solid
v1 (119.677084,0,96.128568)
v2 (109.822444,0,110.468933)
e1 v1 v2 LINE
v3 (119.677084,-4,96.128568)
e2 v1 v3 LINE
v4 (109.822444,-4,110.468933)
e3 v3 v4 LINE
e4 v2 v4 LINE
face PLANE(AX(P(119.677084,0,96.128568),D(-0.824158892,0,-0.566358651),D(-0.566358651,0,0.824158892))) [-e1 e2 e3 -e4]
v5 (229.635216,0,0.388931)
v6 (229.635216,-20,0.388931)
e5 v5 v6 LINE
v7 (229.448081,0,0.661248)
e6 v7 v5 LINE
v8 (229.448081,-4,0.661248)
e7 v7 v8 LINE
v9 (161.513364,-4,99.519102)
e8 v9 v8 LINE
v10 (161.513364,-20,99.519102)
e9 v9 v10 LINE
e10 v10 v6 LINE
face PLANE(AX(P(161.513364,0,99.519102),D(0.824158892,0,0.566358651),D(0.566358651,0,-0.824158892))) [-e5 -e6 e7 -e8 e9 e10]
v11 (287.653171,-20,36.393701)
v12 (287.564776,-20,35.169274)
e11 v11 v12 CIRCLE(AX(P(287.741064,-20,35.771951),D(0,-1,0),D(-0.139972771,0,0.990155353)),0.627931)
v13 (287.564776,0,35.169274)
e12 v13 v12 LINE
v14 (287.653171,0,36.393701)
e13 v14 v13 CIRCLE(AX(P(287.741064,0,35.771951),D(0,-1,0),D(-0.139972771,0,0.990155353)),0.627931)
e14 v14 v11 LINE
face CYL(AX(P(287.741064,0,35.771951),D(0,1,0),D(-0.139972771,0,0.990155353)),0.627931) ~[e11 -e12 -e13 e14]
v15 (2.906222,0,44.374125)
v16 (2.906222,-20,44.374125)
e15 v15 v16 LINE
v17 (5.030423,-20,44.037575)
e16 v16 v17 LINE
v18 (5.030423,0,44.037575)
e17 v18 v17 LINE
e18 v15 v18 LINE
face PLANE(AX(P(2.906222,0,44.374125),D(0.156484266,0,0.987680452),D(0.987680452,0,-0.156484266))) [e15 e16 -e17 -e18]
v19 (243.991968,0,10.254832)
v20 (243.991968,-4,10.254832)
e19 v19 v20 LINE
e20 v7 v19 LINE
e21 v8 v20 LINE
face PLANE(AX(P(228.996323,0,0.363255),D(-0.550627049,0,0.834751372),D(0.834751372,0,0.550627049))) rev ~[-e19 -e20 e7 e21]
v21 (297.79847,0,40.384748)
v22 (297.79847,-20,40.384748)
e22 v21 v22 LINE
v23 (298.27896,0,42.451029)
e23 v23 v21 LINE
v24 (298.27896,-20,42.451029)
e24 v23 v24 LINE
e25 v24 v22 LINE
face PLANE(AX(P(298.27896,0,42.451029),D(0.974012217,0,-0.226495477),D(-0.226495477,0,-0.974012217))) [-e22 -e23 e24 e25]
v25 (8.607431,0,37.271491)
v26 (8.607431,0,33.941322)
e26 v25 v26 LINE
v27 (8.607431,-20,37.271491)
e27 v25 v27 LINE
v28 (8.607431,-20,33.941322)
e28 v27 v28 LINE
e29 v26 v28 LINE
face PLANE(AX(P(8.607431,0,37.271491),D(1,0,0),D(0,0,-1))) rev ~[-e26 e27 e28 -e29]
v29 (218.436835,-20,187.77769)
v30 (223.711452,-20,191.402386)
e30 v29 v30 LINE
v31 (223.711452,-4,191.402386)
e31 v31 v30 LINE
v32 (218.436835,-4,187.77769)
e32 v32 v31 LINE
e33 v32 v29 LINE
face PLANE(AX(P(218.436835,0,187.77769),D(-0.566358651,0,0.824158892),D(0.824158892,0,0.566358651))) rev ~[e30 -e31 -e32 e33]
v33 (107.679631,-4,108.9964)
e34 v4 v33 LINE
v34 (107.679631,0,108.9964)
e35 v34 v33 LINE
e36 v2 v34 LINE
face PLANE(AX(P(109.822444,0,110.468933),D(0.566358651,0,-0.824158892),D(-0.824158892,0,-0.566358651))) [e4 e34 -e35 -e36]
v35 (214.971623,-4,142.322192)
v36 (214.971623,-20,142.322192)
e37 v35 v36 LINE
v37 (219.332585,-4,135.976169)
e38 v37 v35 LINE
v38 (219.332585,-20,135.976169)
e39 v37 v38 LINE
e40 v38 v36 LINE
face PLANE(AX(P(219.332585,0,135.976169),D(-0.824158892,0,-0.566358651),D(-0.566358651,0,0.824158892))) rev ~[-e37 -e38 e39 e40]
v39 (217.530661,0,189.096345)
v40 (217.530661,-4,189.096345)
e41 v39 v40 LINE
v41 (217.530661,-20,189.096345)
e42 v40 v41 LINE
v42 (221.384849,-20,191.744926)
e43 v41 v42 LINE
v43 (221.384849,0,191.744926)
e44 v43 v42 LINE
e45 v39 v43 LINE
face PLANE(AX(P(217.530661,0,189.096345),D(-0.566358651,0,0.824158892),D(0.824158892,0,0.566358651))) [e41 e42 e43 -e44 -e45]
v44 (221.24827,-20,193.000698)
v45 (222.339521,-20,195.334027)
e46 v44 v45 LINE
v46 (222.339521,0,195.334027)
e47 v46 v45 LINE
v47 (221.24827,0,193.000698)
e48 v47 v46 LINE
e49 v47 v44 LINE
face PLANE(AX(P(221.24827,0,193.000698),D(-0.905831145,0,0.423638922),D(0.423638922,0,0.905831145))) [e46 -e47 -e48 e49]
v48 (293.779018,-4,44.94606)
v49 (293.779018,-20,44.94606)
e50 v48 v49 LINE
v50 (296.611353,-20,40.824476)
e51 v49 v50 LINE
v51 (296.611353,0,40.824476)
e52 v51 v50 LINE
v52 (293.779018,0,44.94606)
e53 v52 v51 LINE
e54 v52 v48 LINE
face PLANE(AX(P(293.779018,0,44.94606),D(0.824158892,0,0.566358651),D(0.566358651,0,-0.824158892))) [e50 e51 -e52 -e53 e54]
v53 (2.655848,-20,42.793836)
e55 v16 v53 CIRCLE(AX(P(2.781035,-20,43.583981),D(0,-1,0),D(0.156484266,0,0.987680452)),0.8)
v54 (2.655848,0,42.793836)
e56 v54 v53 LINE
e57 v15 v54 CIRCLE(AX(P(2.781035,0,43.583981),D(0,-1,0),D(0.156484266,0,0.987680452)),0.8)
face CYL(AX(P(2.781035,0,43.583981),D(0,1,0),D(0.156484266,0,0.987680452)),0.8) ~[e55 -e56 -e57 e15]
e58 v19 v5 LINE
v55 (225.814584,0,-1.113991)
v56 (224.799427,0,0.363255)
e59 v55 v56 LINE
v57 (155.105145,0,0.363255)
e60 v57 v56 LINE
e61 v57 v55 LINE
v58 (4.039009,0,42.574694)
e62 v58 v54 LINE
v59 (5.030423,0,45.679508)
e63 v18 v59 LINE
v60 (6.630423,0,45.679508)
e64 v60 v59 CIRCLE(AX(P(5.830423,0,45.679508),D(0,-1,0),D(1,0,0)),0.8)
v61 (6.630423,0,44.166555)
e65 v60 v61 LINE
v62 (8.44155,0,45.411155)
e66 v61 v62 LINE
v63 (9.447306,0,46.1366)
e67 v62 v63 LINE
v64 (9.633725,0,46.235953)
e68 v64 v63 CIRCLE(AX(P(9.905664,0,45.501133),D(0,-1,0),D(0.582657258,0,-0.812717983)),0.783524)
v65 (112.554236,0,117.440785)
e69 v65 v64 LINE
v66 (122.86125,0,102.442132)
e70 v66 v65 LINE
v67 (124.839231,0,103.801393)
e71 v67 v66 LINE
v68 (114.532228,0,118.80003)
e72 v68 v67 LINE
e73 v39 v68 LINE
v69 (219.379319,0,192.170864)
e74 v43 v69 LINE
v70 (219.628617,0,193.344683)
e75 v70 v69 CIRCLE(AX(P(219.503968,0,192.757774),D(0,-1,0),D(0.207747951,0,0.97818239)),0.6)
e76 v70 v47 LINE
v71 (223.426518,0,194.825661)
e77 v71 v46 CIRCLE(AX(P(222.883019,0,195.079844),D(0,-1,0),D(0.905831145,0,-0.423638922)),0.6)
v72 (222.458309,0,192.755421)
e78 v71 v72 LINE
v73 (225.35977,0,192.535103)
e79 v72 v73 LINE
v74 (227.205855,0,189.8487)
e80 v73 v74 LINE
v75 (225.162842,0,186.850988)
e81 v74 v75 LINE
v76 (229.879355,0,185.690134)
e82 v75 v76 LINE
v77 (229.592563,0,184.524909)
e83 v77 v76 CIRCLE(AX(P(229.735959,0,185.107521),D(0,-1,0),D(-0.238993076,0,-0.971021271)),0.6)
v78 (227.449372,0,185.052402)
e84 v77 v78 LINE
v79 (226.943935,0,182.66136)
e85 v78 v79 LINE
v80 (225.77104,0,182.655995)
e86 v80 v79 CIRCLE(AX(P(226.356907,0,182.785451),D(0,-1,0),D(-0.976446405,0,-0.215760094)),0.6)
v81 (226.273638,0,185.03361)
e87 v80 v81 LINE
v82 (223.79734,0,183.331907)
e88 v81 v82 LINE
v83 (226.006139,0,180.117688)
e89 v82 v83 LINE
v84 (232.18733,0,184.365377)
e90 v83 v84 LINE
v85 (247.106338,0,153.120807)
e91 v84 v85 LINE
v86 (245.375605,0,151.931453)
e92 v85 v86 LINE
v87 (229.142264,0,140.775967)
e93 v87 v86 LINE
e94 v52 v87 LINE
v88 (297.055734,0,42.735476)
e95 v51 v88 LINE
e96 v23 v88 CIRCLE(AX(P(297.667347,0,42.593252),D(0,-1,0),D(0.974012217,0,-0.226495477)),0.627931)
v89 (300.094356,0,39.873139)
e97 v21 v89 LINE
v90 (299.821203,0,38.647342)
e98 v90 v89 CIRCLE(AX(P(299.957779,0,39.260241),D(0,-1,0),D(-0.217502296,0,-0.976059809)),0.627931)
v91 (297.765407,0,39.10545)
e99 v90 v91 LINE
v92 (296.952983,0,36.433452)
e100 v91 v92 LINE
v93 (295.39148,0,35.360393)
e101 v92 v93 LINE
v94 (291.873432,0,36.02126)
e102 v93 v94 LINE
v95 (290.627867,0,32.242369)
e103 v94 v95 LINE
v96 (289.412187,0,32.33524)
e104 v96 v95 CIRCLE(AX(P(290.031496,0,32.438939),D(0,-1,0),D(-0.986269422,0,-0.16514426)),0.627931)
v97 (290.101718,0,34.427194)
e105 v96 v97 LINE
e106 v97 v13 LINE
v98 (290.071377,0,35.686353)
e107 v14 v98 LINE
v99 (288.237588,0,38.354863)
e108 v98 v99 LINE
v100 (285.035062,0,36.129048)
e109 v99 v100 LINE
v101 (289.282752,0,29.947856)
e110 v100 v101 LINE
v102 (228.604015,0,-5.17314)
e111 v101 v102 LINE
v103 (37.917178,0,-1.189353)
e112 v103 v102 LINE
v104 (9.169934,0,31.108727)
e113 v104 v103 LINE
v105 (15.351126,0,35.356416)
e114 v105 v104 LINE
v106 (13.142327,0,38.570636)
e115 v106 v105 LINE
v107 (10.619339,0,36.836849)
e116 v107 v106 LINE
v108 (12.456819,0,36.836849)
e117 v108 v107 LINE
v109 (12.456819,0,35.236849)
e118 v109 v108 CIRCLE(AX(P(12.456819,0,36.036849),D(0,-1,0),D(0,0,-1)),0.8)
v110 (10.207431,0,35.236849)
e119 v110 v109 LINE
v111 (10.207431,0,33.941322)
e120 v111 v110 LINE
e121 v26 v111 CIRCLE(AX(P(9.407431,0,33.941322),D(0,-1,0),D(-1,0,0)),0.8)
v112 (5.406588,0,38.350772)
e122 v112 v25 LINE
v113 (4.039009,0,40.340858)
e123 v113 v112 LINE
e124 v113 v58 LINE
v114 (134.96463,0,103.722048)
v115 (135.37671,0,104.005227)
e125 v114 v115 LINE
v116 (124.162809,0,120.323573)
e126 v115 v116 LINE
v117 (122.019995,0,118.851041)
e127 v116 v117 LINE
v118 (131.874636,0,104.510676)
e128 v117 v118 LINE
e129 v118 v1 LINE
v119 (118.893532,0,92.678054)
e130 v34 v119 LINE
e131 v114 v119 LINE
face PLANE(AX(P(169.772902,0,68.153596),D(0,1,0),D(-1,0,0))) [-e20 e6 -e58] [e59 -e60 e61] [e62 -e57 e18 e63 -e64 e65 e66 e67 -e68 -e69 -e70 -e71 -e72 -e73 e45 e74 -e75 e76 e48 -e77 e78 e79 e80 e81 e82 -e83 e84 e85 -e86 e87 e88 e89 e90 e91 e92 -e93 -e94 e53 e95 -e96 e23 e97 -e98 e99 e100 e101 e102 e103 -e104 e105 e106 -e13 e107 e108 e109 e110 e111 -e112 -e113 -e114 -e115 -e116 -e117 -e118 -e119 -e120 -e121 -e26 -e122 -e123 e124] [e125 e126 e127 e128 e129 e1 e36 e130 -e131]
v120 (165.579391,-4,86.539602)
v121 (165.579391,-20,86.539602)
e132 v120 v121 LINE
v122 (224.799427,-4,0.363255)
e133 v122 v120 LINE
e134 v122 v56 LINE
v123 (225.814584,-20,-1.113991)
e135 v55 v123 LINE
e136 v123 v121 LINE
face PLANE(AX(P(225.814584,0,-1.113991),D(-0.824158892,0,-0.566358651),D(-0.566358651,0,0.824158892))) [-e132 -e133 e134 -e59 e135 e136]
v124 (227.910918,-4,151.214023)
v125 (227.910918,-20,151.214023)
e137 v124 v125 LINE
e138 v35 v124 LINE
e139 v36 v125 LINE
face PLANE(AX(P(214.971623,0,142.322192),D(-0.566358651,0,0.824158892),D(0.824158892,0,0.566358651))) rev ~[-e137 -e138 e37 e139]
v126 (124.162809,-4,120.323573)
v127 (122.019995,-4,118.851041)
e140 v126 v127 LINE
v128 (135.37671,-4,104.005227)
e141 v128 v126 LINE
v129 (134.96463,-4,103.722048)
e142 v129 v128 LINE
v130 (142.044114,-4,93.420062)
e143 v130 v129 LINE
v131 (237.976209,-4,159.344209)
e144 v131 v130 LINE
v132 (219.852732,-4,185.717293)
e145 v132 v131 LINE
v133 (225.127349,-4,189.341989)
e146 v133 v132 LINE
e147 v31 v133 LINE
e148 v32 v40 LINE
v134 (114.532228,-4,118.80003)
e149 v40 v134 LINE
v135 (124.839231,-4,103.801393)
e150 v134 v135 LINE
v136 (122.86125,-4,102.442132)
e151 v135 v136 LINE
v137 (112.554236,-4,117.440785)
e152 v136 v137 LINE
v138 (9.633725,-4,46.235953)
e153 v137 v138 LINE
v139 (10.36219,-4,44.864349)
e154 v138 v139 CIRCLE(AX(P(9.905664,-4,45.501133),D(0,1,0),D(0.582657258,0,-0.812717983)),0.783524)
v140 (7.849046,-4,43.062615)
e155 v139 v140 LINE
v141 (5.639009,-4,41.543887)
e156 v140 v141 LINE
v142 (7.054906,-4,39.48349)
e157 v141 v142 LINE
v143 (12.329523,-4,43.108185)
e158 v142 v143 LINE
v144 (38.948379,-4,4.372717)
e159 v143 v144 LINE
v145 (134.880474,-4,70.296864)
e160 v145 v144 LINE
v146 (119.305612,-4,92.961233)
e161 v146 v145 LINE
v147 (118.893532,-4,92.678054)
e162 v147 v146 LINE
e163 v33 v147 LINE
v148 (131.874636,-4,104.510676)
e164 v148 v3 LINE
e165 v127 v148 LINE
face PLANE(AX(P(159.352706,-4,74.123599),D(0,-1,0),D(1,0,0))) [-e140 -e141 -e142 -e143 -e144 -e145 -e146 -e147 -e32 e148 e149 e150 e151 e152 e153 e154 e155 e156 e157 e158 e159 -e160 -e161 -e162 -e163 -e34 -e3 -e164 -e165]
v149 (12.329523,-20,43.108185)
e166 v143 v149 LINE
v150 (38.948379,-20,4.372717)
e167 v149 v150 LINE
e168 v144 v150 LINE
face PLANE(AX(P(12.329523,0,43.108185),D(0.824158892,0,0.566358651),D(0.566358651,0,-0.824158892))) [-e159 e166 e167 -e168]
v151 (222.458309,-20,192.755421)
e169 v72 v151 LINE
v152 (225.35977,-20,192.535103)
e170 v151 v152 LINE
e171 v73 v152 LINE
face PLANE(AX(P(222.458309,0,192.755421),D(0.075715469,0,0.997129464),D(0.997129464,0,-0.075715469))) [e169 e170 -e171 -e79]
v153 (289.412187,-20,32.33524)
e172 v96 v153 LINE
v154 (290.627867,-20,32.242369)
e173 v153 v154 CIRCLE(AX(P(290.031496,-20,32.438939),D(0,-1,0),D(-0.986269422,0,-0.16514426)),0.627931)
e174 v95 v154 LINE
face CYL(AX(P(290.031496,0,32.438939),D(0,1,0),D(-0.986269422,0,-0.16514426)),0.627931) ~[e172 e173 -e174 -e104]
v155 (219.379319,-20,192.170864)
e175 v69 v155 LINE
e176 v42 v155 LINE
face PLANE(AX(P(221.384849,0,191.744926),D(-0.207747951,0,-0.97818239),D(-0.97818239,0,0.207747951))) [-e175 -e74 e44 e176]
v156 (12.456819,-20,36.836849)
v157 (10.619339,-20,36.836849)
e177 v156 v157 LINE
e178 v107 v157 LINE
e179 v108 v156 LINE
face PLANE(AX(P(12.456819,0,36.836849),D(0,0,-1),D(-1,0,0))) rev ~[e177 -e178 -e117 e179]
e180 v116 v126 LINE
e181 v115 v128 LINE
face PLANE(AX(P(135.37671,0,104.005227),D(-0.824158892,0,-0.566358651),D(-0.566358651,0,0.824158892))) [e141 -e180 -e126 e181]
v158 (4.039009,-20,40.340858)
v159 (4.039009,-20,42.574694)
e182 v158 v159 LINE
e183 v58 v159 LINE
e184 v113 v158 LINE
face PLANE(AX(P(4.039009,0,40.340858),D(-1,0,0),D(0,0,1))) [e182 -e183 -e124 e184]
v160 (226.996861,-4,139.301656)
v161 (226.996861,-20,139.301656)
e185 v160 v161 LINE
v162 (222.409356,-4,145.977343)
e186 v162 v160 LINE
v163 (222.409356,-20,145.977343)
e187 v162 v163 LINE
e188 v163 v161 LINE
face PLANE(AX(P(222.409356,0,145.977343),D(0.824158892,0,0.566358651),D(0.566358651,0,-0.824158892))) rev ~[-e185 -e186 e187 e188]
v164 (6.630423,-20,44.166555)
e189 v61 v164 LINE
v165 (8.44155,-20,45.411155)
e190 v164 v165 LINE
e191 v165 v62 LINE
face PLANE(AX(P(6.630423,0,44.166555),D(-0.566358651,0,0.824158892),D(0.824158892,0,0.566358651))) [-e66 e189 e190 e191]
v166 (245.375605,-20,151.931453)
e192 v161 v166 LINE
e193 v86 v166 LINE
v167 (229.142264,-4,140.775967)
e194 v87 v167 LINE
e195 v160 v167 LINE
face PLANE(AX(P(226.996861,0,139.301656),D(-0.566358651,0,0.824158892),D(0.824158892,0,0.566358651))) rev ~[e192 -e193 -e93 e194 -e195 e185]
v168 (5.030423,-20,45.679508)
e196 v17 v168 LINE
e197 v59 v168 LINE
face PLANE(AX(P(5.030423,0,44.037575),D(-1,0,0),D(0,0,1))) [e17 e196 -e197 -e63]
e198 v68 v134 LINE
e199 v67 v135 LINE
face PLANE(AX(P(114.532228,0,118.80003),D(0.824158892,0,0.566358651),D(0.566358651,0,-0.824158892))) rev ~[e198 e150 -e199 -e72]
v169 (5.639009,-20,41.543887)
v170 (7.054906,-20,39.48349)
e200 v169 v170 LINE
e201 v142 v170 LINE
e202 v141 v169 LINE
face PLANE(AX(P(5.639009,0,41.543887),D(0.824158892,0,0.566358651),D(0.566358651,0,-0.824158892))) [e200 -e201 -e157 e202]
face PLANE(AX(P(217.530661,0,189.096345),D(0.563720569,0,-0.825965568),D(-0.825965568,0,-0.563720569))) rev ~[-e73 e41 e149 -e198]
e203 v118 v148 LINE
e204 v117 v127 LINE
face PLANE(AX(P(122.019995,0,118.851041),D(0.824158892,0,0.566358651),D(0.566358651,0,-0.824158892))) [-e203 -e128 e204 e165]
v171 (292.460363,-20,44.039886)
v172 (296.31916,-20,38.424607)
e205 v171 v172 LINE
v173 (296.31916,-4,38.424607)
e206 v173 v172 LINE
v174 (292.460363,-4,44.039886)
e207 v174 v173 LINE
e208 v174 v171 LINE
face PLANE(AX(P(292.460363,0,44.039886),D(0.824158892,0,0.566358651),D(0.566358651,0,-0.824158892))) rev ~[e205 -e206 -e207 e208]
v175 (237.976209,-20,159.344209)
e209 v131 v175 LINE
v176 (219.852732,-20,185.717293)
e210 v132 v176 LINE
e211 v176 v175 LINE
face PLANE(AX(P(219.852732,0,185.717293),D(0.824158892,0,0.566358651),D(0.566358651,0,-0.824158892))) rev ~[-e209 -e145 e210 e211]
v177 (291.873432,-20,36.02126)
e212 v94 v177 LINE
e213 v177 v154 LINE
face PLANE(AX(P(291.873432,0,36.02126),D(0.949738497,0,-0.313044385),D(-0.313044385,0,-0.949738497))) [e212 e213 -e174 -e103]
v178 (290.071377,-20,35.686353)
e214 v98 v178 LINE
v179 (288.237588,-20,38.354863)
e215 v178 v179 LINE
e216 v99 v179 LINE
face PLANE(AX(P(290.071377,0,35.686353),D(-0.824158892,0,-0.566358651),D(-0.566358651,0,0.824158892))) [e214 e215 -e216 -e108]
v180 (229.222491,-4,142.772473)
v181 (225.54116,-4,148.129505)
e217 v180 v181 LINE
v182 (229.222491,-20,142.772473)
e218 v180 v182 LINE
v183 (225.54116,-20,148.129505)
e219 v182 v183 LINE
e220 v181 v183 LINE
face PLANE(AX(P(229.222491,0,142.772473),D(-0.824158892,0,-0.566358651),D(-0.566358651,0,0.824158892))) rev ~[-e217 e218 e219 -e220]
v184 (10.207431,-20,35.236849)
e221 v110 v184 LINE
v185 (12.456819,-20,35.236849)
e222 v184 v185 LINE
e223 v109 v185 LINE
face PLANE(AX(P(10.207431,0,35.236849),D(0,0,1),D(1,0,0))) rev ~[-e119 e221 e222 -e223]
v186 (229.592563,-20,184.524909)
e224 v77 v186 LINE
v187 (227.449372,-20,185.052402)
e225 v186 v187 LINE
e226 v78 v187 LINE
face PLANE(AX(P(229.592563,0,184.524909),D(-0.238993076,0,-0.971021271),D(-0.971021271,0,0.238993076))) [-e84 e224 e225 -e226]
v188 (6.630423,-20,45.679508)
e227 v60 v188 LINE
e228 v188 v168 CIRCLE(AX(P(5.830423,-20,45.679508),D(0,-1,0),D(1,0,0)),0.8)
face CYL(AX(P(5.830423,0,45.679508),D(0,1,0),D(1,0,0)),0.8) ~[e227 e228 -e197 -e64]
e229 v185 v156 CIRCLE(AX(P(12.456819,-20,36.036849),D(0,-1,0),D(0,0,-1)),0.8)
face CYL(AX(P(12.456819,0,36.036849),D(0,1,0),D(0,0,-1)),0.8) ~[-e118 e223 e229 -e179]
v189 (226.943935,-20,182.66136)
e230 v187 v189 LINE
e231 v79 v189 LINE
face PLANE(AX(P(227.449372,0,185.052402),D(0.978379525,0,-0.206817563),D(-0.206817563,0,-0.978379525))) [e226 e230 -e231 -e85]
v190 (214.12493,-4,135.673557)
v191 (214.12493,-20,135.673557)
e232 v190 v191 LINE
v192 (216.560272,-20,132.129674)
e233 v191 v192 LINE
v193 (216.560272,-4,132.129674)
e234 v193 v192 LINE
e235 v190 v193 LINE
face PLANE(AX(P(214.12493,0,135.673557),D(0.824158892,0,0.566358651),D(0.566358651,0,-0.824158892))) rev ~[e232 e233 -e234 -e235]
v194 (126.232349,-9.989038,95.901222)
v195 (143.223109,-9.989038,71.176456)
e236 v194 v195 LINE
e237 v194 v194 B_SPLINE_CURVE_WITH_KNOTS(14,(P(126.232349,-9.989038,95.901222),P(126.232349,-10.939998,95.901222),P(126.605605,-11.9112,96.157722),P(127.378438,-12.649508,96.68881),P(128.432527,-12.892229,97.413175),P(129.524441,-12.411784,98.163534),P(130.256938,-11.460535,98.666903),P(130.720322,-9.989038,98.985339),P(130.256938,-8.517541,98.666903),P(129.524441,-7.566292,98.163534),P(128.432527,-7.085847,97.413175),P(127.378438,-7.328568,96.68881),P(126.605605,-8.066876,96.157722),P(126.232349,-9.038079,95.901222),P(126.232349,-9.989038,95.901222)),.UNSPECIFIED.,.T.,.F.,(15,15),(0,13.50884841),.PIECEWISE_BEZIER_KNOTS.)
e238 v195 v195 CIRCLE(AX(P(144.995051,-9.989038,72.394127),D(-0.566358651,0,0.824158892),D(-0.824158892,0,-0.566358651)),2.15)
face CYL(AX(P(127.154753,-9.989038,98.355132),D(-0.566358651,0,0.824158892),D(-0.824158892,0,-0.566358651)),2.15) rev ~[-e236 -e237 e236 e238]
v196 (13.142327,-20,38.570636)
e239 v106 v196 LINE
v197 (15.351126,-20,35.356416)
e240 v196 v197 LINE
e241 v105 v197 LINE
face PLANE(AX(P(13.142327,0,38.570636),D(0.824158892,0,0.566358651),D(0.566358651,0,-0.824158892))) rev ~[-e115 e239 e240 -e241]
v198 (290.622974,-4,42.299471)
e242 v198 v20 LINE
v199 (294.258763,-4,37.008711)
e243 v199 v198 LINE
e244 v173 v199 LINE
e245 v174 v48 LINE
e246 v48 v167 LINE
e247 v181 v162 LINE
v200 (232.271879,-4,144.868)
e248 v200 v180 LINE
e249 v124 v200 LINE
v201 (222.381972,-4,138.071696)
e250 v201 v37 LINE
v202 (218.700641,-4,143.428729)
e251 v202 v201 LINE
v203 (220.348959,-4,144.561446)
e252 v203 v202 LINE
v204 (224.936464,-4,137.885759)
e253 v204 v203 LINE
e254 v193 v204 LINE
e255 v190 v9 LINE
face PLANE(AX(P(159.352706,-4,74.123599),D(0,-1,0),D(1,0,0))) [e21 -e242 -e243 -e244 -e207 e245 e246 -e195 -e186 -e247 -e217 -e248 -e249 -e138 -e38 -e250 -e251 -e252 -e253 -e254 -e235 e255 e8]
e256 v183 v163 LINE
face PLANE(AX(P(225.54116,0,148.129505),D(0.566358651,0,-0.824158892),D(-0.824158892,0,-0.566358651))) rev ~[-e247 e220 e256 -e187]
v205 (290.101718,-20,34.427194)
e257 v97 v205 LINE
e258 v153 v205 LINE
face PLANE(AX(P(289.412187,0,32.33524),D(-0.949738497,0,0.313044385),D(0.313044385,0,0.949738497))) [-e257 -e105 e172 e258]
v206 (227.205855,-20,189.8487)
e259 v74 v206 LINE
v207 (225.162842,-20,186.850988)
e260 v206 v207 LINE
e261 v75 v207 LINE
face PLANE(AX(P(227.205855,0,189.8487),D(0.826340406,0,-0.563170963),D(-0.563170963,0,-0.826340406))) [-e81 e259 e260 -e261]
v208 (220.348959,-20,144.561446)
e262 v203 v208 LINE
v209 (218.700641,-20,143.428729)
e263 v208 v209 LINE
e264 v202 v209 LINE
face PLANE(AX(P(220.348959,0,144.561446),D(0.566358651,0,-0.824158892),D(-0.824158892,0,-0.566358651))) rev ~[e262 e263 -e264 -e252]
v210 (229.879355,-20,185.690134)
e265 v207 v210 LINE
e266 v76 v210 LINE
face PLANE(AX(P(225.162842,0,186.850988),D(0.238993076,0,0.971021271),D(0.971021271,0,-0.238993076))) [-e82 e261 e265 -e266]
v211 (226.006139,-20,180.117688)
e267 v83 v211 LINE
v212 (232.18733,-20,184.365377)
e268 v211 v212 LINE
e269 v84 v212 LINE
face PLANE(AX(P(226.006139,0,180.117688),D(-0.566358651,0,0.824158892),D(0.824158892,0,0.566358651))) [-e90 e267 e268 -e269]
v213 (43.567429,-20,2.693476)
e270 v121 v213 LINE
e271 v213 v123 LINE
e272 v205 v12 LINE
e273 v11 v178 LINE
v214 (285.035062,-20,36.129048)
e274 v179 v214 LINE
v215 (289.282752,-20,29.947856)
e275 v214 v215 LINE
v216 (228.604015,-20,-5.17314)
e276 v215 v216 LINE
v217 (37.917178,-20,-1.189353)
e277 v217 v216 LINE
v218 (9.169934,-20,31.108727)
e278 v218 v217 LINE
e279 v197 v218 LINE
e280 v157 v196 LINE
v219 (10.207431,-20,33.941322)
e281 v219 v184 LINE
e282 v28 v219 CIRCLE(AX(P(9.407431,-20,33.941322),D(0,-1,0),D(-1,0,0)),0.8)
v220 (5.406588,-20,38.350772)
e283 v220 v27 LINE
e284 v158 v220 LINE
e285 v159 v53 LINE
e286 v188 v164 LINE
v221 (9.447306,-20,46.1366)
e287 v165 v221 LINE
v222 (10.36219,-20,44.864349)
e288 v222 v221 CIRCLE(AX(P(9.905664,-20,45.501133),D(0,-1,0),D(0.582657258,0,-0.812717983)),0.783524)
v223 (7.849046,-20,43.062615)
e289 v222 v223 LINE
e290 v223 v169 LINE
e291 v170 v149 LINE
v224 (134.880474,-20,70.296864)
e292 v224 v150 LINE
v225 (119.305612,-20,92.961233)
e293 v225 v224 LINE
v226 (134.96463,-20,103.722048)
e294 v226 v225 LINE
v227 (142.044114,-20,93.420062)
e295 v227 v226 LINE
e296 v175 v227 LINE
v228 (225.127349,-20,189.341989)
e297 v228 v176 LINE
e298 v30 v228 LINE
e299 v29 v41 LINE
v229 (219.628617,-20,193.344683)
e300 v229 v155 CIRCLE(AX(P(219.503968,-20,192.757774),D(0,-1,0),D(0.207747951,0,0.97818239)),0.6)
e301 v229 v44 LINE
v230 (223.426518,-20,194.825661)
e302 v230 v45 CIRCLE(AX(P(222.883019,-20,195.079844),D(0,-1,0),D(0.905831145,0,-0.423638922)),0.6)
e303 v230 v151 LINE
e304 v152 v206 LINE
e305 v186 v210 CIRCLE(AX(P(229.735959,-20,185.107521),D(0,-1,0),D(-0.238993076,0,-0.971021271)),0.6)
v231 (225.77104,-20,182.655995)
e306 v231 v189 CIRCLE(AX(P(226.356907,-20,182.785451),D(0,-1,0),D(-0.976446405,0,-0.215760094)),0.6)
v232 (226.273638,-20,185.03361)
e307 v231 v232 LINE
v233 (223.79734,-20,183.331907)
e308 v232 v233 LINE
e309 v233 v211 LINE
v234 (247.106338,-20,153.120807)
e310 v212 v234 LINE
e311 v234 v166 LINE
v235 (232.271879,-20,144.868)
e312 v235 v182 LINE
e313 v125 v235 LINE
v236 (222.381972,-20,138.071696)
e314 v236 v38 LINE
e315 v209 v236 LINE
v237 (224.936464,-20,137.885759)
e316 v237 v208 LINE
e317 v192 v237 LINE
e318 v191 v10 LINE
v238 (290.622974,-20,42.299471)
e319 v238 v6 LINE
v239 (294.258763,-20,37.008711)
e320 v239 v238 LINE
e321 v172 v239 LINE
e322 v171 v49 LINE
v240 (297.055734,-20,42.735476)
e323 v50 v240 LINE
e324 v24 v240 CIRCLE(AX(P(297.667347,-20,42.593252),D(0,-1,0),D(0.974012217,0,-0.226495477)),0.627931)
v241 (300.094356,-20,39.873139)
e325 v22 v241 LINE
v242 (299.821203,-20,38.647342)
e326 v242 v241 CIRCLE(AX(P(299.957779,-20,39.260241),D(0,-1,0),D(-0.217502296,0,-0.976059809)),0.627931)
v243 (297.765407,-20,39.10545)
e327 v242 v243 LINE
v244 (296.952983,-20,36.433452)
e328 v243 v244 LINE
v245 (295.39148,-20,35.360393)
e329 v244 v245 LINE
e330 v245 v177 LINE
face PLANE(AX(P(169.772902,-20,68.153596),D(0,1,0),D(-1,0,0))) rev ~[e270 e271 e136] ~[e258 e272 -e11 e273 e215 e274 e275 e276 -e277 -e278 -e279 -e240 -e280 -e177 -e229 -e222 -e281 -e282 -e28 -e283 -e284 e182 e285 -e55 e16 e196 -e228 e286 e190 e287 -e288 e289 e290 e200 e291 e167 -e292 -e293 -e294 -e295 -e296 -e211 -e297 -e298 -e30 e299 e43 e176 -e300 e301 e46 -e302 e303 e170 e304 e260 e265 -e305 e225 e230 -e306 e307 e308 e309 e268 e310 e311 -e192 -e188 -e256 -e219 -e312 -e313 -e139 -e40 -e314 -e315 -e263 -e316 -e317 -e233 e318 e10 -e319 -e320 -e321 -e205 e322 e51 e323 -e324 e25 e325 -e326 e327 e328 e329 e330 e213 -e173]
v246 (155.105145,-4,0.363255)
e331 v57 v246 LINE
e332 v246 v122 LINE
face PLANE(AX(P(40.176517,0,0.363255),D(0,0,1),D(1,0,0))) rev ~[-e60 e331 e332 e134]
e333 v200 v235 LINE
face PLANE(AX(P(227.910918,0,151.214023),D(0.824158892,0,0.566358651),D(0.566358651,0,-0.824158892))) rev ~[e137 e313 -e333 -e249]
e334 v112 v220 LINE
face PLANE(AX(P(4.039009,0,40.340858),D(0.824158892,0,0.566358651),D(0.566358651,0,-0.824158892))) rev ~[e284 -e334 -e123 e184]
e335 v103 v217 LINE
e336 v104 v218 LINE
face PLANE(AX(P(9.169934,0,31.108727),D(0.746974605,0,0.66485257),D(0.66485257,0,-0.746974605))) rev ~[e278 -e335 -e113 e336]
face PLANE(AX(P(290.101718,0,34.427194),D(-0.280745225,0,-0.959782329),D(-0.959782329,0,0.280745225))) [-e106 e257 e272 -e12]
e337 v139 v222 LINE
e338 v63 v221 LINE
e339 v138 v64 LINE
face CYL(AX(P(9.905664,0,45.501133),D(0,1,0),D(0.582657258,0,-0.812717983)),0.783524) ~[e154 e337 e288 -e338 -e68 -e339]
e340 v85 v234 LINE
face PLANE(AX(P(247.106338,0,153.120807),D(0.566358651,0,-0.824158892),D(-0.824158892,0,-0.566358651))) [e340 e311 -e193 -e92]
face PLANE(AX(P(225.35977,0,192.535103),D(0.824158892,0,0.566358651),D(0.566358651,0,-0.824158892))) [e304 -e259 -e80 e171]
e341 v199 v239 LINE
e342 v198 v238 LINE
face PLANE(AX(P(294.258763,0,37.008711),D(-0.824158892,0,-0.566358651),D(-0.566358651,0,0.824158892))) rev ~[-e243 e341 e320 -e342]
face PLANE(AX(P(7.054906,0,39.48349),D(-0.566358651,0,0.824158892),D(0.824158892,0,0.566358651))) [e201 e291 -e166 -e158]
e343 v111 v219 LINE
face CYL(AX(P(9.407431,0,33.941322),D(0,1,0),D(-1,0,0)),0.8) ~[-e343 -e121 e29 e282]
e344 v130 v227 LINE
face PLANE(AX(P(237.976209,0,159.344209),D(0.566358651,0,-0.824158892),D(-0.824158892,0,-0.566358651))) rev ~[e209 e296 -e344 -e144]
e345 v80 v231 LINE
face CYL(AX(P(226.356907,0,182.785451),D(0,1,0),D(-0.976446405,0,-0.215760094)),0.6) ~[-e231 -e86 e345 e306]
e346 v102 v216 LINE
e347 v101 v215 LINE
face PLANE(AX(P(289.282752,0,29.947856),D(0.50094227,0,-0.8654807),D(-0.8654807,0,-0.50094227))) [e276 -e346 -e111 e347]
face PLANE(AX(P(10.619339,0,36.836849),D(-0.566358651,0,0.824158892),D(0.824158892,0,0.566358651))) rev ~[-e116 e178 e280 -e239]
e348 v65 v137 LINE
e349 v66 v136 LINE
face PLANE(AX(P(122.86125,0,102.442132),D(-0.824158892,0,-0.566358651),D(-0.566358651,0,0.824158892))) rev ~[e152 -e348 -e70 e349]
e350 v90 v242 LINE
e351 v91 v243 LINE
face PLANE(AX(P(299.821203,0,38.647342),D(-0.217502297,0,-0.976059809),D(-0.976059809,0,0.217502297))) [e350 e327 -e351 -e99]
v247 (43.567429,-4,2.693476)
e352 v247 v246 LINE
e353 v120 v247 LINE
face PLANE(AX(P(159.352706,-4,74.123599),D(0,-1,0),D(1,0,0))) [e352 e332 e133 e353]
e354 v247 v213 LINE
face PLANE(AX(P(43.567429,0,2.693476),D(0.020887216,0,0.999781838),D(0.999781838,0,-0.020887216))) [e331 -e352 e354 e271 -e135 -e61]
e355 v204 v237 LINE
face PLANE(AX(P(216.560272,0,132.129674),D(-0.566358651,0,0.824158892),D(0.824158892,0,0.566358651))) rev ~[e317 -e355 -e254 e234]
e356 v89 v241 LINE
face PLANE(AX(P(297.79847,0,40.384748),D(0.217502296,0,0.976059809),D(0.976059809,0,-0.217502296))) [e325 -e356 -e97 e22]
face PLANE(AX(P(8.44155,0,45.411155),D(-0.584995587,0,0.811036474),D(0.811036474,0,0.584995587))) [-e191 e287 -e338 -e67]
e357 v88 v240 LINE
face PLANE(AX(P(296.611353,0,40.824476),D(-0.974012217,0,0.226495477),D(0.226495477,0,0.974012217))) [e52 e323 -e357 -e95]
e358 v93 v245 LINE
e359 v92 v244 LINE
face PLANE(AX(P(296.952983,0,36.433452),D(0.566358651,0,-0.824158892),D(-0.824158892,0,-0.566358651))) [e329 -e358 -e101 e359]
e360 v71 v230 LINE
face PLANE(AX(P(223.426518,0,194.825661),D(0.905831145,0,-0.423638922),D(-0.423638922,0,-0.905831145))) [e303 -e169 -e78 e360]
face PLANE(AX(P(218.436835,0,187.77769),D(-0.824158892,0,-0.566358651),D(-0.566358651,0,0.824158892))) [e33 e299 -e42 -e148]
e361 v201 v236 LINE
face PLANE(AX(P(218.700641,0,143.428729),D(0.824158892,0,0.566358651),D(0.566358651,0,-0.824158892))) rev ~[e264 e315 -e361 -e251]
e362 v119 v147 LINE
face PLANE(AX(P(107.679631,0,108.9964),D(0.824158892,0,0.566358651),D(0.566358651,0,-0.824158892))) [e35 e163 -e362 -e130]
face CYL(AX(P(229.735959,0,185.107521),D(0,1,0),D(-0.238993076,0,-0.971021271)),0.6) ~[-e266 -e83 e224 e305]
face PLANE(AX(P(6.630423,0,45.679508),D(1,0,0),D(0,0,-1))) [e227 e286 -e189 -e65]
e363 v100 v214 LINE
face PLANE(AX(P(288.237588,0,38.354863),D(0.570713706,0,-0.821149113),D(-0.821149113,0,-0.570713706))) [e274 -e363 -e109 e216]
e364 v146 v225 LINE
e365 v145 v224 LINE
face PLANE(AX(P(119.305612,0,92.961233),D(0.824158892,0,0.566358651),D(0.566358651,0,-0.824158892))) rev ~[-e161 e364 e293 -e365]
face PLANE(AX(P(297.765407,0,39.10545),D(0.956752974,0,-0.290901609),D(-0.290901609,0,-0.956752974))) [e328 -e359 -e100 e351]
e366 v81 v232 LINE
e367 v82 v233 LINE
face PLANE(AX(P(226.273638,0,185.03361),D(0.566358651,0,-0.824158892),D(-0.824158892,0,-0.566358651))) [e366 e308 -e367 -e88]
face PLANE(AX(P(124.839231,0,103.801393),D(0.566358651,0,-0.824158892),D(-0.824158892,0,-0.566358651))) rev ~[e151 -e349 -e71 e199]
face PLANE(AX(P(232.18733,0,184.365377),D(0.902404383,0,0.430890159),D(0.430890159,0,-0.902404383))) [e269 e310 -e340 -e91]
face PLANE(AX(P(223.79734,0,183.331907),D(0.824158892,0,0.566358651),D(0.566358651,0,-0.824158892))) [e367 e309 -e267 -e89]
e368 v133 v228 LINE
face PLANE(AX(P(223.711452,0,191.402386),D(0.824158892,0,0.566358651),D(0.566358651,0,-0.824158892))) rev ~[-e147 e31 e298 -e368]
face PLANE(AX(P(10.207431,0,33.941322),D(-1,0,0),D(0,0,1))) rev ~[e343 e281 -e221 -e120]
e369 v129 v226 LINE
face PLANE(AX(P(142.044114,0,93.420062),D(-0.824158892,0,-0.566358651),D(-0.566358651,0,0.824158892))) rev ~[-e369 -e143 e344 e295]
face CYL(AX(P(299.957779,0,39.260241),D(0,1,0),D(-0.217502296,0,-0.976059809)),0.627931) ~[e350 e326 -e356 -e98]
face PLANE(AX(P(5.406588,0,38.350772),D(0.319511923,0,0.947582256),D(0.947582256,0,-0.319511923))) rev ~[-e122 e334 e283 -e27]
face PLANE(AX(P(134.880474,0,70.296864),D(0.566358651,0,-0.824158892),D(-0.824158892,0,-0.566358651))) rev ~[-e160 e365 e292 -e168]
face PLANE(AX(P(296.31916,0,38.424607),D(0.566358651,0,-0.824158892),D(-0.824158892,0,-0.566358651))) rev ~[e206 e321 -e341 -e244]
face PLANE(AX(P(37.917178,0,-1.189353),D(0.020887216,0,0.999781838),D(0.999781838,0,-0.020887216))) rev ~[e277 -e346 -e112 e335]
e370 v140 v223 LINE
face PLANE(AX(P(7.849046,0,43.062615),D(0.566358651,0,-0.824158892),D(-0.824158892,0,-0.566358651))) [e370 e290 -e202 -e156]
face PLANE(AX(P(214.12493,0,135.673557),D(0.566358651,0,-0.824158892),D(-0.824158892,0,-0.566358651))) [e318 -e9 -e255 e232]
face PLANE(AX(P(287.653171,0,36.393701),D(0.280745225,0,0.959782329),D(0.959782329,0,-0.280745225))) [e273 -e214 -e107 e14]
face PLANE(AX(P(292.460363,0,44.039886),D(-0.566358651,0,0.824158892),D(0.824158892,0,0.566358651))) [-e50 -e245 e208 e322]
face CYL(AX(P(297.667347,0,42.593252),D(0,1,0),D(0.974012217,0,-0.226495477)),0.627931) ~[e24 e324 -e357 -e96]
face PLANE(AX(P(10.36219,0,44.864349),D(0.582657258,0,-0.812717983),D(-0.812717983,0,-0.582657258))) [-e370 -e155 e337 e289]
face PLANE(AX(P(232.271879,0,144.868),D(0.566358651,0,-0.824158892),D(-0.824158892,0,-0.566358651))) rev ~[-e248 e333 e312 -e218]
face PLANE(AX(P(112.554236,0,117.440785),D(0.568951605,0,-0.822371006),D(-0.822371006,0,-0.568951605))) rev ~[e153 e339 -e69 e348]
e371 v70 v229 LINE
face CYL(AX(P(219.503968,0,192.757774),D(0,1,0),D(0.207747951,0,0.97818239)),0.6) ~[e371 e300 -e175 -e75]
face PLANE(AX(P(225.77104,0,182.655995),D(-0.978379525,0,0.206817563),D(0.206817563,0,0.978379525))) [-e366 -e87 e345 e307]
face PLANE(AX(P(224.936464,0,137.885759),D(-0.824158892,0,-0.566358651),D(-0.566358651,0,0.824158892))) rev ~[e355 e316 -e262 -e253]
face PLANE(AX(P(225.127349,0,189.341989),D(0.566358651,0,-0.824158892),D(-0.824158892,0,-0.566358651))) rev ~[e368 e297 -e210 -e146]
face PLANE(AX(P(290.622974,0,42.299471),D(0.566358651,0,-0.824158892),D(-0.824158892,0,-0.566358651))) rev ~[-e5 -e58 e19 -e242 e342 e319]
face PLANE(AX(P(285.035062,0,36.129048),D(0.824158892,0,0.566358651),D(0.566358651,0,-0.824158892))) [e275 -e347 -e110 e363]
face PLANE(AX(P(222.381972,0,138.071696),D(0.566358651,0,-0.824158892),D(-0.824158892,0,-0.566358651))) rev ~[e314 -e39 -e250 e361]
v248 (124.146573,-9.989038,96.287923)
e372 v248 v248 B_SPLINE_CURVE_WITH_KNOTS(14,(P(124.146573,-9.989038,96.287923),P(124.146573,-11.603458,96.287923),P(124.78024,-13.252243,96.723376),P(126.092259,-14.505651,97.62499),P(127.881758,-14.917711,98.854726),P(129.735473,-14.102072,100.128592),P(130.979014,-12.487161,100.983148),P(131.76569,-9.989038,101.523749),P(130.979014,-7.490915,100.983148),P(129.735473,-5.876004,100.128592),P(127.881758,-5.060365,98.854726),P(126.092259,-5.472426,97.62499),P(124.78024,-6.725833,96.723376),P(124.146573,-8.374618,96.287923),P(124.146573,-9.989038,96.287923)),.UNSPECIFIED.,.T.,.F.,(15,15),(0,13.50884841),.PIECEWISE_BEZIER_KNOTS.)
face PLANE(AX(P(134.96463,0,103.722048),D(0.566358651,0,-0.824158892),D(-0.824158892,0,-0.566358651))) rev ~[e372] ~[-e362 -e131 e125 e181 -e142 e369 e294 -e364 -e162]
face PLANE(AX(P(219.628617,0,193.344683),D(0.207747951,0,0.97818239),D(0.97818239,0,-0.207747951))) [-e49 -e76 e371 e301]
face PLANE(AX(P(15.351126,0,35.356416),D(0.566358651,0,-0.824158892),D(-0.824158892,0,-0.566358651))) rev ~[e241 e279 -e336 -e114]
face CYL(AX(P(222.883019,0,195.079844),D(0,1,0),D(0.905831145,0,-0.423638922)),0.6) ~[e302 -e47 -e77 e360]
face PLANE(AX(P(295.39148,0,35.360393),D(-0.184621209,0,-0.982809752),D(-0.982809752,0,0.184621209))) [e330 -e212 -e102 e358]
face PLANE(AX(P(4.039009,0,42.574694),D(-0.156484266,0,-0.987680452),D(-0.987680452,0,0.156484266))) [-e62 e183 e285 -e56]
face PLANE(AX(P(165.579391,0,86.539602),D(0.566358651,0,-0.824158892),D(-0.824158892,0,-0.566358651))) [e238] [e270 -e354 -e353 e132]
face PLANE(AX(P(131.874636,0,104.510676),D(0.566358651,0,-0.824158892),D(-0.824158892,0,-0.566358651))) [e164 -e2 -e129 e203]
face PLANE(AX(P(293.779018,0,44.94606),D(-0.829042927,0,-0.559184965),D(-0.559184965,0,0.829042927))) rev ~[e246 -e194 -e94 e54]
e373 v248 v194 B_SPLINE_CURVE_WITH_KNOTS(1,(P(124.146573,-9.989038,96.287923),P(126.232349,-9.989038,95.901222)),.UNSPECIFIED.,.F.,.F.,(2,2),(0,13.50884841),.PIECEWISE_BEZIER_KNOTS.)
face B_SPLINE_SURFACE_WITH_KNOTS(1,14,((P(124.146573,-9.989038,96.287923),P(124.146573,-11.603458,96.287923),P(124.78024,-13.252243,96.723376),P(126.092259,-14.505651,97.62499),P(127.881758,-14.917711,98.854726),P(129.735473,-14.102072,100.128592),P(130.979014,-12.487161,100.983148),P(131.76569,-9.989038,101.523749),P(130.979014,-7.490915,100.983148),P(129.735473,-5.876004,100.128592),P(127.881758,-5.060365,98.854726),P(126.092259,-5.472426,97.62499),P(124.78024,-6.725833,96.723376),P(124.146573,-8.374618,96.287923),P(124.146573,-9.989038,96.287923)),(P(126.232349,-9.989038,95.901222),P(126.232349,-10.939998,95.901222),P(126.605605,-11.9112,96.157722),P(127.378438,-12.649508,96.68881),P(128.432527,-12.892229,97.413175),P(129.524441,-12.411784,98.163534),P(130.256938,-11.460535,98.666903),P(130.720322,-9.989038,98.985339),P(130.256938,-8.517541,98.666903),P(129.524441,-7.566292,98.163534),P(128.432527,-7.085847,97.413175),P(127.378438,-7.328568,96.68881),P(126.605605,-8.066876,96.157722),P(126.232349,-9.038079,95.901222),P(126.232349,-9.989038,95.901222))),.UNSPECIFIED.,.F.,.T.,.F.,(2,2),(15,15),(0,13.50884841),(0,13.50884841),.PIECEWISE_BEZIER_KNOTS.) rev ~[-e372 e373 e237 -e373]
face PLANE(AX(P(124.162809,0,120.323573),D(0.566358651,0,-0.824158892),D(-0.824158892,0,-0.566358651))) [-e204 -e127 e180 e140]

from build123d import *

# Parameters (mm, degrees)
PAD_DEPTH    = 20
SKETCH001_R  = 2.15
POCKET_DEPTH = 47
CHAMFER_SIZE = 1.5
PAD001_DEPTH = 4


with BuildPart() as part:
    # Sketch → Pad (new body)
    with BuildSketch(Plane.XZ):
        with BuildLine():
            Line((4.0390093024, 42.5746936035), (2.6558476721, 42.7938363759))
            ThreePointArc((2.9062224976, 44.3741250985), (1.9908907236, 43.70916815), (2.6558476721, 42.7938363759))
            Line((2.9062224976, 44.3741250985), (5.030422984, 44.0375749994))
            Line((5.030422984, 44.0375749994), (5.030422984, 45.679507745))
            ThreePointArc((6.630422984, 45.679507745), (5.830422984, 46.479507745), (5.030422984, 45.679507745))
            Line((6.630422984, 45.679507745), (6.630422984, 44.1665554588))
            Line((6.630422984, 44.1665554588), (8.4415504736, 45.4111549307))
            Line((8.4415504736, 45.4111549307), (9.4473057083, 46.1365999544))
            ThreePointArc((10.36219, 44.864349), (10.5417900599, 45.9585758488), (9.4473057083, 46.1365999544))
            Line((10.36219, 44.864349), (7.8490460164, 43.0626150502))
            Line((7.8490460164, 43.0626150502), (5.6390093024, 41.5438867756))
            Line((5.6390093024, 41.5438867756), (7.0549059293, 39.4834895465))
            Line((7.0549059293, 39.4834895465), (12.3295228359, 43.1081849113))
            Line((12.3295228359, 43.1081849113), (38.9483794216, 4.3727170031))
            Line((134.8804744114, 70.2968639515), (38.9483794216, 4.3727170031))
            Line((119.3056115155, 92.9612334723), (134.8804744114, 70.2968639515))
            Line((134.9646304571, 103.7220478367), (119.3056115155, 92.9612334723))
            Line((142.0441135916, 93.4200616909), (134.9646304571, 103.7220478367))
            Line((237.9762085814, 159.3442086393), (142.0441135916, 93.4200616909))
            Line((219.8527317571, 185.7172931726), (237.9762085814, 159.3442086393))
            Line((225.1273486637, 189.3419885375), (219.8527317571, 185.7172931726))
            Line((223.7114520368, 191.4023857666), (225.1273486637, 189.3419885375))
            Line((218.4368351302, 187.7776904018), (223.7114520368, 191.4023857666))
            Line((218.4368351302, 187.7776904018), (217.5306612889, 189.0963446284))
            Line((217.5306612889, 189.0963446284), (221.3848485497, 191.7449264963))
            Line((221.3848485497, 191.7449264963), (219.3793189808, 192.1708640962))
            ThreePointArc((219.6286165225, 193.3446829646), (218.9170583175, 192.8824223013), (219.3793189808, 192.1708640962))
            Line((219.6286165225, 193.3446829646), (221.2482697259, 193.0006984087))
            Line((221.2482697259, 193.0006984087), (222.3395205202, 195.3340273515))
            ThreePointArc((223.4265178948, 194.8256606455), (223.1372025604, 195.6233426858), (222.3395205202, 195.3340273515))
            Line((223.4265178948, 194.8256606455), (222.4583086449, 192.755420993))
            Line((222.4583086449, 192.755420993), (225.3597698201, 192.5351030681))
            Line((225.3597698201, 192.5351030681), (227.2058553447, 189.8486996773))
            Line((227.2058553447, 189.8486996773), (225.1628423907, 186.850988034))
            Line((225.1628423907, 186.850988034), (229.8793547275, 185.6901341722))
            ThreePointArc((229.5925630359, 184.5249086465), (230.3185716445, 184.9641255636), (229.8793547275, 185.6901341722))
            Line((229.5925630359, 184.5249086465), (227.4493724265, 185.0524024636))
            Line((227.4493724265, 185.0524024636), (226.9439351411, 182.6613604036))
            ThreePointArc((225.7710395828, 182.6559948849), (226.3596521523, 182.1854572192), (226.9439351411, 182.6613604036))
            Line((225.7710395828, 182.6559948849), (226.2736384812, 185.0336095568))
            Line((226.2736384812, 185.0336095568), (223.7973399844, 183.331907264))
            Line((223.7973399844, 183.331907264), (226.0061387224, 180.1176875865))
            Line((226.0061387224, 180.1176875865), (232.1873304099, 184.3653774672))
            Line((232.1873304099, 184.3653774672), (247.1063382508, 153.1208066582))
            Line((247.1063382508, 153.1208066582), (245.3756045783, 151.9314534916))
            Line((226.9968612942, 139.3016555797), (245.3756045783, 151.9314534916))
            Line((222.4093562231, 145.9773426022), (226.9968612942, 139.3016555797))
            Line((225.5411600114, 148.1295054751), (222.4093562231, 145.9773426022))
            Line((229.2224912413, 142.7724726792), (225.5411600114, 148.1295054751))
            Line((232.2718791405, 144.867999687), (229.2224912413, 142.7724726792))
            Line((227.9109175296, 151.2140231529), (232.2718791405, 144.867999687))
            Line((214.9716229305, 142.3221923359), (227.9109175296, 151.2140231529))
            Line((219.3325845414, 135.9761688701), (214.9716229305, 142.3221923359))
            Line((222.3819724405, 138.0716958779), (219.3325845414, 135.9761688701))
            Line((218.7006412106, 143.4287286737), (222.3819724405, 138.0716958779))
            Line((220.3489589939, 144.5614459753), (218.7006412106, 143.4287286737))
            Line((224.9364640651, 137.8857589528), (220.3489589939, 144.5614459753))
            Line((216.5602719319, 132.1296736602), (224.9364640651, 137.8857589528))
            Line((214.1249297336, 135.6735568944), (216.5602719319, 132.1296736602))
            Line((214.1249297336, 135.6735568944), (161.5133638836, 99.5191020307))
            Line((161.5133638836, 99.5191020307), (229.6352159636, 0.3889306577))
            Line((290.6229739468, 42.2994708139), (229.6352159636, 0.3889306577))
            Line((294.258762918, 37.008710613), (290.6229739468, 42.2994708139))
            Line((296.3191601472, 38.4246072399), (294.258762918, 37.008710613))
            Line((292.4603634449, 44.0398858431), (296.3191601472, 38.4246072399))
            Line((292.4603634449, 44.0398858431), (293.7790176715, 44.9460596843))
            Line((293.7790176715, 44.9460596843), (296.6113530901, 40.8244762739))
            Line((296.6113530901, 40.8244762739), (297.055734393, 42.735476101))
            ThreePointArc((298.2789600102, 42.4510288783), (297.809570813, 43.2048652982), (297.055734393, 42.735476101))
            Line((298.2789600102, 42.4510288783), (297.7984698218, 40.3847478241))
            Line((297.7984698218, 40.3847478241), (300.0943558548, 39.8731393346))
            ThreePointArc((299.8212028325, 38.6473422227), (300.5706778996, 39.1236642674), (300.0943558548, 39.8731393346))
            Line((299.8212028325, 38.6473422227), (297.7654069564, 39.105449728))
            Line((297.7654069564, 39.105449728), (296.952983487, 36.4334515477))
            Line((296.952983487, 36.4334515477), (295.3914802195, 35.3603928297))
            Line((295.3914802195, 35.3603928297), (291.8734315191, 36.0212597001))
            Line((291.8734315191, 36.0212597001), (290.6278670782, 32.2423690465))
            ThreePointArc((289.4121870072, 32.3352401719), (289.9836654433, 31.8128324322), (290.6278670782, 32.2423690465))
            Line((289.4121870072, 32.3352401719), (290.1017184324, 34.427194448))
            Line((290.1017184324, 34.427194448), (287.5647756287, 35.1692737258))
            ThreePointArc((287.653171066, 36.3937007315), (287.1147629857, 35.8171659101), (287.5647756287, 35.1692737258))
            Line((287.653171066, 36.3937007315), (290.0713769403, 35.6863531059))
            Line((290.0713769403, 35.6863531059), (288.2375880383, 38.3548625865))
            Line((288.2375880383, 38.3548625865), (285.0350616215, 36.1290479439))
            Line((285.0350616215, 36.1290479439), (289.2827515022, 29.9478562564))
            Line((289.2827515022, 29.9478562564), (228.604015, -5.173139512))
            Line((37.917178458, -1.1893531666), (228.604015, -5.173139512))
            Line((9.1699343254, 31.1087265717), (37.917178458, -1.1893531666))
            Line((15.3511260129, 35.3564164524), (9.1699343254, 31.1087265717))
            Line((13.1423272749, 38.5706361299), (15.3511260129, 35.3564164524))
            Line((10.619338857, 36.8368487126), (13.1423272749, 38.5706361299))
            Line((12.4568191979, 36.8368487126), (10.619338857, 36.8368487126))
            ThreePointArc((12.4568191979, 35.2368487126), (13.2568191979, 36.0368487126), (12.4568191979, 36.8368487126))
            Line((10.2074312987, 35.2368487126), (12.4568191979, 35.2368487126))
            Line((10.2074312987, 33.9413217047), (10.2074312987, 35.2368487126))
            ThreePointArc((8.6074312987, 33.9413217047), (9.4074312987, 33.1413217047), (10.2074312987, 33.9413217047))
            Line((8.6074312987, 37.2714912173), (8.6074312987, 33.9413217047))
            Line((5.4065881459, 38.350772245), (8.6074312987, 37.2714912173))
            Line((4.0390093024, 40.3408579662), (5.4065881459, 38.350772245))
            Line((4.0390093024, 40.3408579662), (4.0390093024, 42.5746936035))
        make_face()
        Polygon((43.5674287195, 2.6934759176), (225.8145842591, -1.1139905174), (165.5793907768, 86.5396018361), align=None, mode=Mode.SUBTRACT)
    extrude(amount=PAD_DEPTH)

    # Sketch001 (on DatumPlane) → Pocket (cut)
    with BuildSketch(Plane(origin=(-5.1227490992, 0, 7.4545682568), x_dir=(-0.8241588917, 0, -0.5663586508), z_dir=(-0.5663586508, 0, 0.8241588917))):
        with Locations((-160.5, 9.9890381016)):
            Circle(SKETCH001_R)
    extrude(amount=-POCKET_DEPTH, mode=Mode.SUBTRACT)

    # Chamfer
    chamfer_edges = [part.edges().sort_by_distance(p)[0] for p in [
        (128.926695, -9.989038, 99.572803),
    ]]
    chamfer(chamfer_edges, length=CHAMFER_SIZE)

    # Sketch002 → Pad001 (join)
    with BuildSketch(Plane.XZ):
        Polygon((8.4415504736, 45.4111549307), (4.918851, 41.369339), (7.155737, 38.386826), (12.779469, 40.715076), (40.176517, 0.3632551244), (228.996323, 0.3632551244), (288.524261, 39.629669), (294.24765, 36.288891), (297.030212, 38.458557), (293.7790176715, 44.9460596843), (228.564316, 141.632828), (244.029541, 152.010803), (221.678513, 185.245819), (225.870392, 189.519104), (223.916901, 191.960983), (217.5306612889, 189.0963446284), (114.5322283976, 118.8000303552), (124.8392314819, 103.8013926071), (122.8612501419, 102.4421318452), (112.5542362208, 117.4407853631), align=None)
        Polygon((107.6796307846, 108.9964002019), (118.8935320696, 92.6780541469), (135.3767099029, 104.0052271621), (124.1628086179, 120.3235732171), (122.0199954996, 118.8510407251), (131.8746360228, 104.5106760101), (119.6770844261, 96.1285679789), (109.8224439029, 110.4689326938), align=None, mode=Mode.SUBTRACT)
    extrude(amount=PAD001_DEPTH)


solid = part.part
